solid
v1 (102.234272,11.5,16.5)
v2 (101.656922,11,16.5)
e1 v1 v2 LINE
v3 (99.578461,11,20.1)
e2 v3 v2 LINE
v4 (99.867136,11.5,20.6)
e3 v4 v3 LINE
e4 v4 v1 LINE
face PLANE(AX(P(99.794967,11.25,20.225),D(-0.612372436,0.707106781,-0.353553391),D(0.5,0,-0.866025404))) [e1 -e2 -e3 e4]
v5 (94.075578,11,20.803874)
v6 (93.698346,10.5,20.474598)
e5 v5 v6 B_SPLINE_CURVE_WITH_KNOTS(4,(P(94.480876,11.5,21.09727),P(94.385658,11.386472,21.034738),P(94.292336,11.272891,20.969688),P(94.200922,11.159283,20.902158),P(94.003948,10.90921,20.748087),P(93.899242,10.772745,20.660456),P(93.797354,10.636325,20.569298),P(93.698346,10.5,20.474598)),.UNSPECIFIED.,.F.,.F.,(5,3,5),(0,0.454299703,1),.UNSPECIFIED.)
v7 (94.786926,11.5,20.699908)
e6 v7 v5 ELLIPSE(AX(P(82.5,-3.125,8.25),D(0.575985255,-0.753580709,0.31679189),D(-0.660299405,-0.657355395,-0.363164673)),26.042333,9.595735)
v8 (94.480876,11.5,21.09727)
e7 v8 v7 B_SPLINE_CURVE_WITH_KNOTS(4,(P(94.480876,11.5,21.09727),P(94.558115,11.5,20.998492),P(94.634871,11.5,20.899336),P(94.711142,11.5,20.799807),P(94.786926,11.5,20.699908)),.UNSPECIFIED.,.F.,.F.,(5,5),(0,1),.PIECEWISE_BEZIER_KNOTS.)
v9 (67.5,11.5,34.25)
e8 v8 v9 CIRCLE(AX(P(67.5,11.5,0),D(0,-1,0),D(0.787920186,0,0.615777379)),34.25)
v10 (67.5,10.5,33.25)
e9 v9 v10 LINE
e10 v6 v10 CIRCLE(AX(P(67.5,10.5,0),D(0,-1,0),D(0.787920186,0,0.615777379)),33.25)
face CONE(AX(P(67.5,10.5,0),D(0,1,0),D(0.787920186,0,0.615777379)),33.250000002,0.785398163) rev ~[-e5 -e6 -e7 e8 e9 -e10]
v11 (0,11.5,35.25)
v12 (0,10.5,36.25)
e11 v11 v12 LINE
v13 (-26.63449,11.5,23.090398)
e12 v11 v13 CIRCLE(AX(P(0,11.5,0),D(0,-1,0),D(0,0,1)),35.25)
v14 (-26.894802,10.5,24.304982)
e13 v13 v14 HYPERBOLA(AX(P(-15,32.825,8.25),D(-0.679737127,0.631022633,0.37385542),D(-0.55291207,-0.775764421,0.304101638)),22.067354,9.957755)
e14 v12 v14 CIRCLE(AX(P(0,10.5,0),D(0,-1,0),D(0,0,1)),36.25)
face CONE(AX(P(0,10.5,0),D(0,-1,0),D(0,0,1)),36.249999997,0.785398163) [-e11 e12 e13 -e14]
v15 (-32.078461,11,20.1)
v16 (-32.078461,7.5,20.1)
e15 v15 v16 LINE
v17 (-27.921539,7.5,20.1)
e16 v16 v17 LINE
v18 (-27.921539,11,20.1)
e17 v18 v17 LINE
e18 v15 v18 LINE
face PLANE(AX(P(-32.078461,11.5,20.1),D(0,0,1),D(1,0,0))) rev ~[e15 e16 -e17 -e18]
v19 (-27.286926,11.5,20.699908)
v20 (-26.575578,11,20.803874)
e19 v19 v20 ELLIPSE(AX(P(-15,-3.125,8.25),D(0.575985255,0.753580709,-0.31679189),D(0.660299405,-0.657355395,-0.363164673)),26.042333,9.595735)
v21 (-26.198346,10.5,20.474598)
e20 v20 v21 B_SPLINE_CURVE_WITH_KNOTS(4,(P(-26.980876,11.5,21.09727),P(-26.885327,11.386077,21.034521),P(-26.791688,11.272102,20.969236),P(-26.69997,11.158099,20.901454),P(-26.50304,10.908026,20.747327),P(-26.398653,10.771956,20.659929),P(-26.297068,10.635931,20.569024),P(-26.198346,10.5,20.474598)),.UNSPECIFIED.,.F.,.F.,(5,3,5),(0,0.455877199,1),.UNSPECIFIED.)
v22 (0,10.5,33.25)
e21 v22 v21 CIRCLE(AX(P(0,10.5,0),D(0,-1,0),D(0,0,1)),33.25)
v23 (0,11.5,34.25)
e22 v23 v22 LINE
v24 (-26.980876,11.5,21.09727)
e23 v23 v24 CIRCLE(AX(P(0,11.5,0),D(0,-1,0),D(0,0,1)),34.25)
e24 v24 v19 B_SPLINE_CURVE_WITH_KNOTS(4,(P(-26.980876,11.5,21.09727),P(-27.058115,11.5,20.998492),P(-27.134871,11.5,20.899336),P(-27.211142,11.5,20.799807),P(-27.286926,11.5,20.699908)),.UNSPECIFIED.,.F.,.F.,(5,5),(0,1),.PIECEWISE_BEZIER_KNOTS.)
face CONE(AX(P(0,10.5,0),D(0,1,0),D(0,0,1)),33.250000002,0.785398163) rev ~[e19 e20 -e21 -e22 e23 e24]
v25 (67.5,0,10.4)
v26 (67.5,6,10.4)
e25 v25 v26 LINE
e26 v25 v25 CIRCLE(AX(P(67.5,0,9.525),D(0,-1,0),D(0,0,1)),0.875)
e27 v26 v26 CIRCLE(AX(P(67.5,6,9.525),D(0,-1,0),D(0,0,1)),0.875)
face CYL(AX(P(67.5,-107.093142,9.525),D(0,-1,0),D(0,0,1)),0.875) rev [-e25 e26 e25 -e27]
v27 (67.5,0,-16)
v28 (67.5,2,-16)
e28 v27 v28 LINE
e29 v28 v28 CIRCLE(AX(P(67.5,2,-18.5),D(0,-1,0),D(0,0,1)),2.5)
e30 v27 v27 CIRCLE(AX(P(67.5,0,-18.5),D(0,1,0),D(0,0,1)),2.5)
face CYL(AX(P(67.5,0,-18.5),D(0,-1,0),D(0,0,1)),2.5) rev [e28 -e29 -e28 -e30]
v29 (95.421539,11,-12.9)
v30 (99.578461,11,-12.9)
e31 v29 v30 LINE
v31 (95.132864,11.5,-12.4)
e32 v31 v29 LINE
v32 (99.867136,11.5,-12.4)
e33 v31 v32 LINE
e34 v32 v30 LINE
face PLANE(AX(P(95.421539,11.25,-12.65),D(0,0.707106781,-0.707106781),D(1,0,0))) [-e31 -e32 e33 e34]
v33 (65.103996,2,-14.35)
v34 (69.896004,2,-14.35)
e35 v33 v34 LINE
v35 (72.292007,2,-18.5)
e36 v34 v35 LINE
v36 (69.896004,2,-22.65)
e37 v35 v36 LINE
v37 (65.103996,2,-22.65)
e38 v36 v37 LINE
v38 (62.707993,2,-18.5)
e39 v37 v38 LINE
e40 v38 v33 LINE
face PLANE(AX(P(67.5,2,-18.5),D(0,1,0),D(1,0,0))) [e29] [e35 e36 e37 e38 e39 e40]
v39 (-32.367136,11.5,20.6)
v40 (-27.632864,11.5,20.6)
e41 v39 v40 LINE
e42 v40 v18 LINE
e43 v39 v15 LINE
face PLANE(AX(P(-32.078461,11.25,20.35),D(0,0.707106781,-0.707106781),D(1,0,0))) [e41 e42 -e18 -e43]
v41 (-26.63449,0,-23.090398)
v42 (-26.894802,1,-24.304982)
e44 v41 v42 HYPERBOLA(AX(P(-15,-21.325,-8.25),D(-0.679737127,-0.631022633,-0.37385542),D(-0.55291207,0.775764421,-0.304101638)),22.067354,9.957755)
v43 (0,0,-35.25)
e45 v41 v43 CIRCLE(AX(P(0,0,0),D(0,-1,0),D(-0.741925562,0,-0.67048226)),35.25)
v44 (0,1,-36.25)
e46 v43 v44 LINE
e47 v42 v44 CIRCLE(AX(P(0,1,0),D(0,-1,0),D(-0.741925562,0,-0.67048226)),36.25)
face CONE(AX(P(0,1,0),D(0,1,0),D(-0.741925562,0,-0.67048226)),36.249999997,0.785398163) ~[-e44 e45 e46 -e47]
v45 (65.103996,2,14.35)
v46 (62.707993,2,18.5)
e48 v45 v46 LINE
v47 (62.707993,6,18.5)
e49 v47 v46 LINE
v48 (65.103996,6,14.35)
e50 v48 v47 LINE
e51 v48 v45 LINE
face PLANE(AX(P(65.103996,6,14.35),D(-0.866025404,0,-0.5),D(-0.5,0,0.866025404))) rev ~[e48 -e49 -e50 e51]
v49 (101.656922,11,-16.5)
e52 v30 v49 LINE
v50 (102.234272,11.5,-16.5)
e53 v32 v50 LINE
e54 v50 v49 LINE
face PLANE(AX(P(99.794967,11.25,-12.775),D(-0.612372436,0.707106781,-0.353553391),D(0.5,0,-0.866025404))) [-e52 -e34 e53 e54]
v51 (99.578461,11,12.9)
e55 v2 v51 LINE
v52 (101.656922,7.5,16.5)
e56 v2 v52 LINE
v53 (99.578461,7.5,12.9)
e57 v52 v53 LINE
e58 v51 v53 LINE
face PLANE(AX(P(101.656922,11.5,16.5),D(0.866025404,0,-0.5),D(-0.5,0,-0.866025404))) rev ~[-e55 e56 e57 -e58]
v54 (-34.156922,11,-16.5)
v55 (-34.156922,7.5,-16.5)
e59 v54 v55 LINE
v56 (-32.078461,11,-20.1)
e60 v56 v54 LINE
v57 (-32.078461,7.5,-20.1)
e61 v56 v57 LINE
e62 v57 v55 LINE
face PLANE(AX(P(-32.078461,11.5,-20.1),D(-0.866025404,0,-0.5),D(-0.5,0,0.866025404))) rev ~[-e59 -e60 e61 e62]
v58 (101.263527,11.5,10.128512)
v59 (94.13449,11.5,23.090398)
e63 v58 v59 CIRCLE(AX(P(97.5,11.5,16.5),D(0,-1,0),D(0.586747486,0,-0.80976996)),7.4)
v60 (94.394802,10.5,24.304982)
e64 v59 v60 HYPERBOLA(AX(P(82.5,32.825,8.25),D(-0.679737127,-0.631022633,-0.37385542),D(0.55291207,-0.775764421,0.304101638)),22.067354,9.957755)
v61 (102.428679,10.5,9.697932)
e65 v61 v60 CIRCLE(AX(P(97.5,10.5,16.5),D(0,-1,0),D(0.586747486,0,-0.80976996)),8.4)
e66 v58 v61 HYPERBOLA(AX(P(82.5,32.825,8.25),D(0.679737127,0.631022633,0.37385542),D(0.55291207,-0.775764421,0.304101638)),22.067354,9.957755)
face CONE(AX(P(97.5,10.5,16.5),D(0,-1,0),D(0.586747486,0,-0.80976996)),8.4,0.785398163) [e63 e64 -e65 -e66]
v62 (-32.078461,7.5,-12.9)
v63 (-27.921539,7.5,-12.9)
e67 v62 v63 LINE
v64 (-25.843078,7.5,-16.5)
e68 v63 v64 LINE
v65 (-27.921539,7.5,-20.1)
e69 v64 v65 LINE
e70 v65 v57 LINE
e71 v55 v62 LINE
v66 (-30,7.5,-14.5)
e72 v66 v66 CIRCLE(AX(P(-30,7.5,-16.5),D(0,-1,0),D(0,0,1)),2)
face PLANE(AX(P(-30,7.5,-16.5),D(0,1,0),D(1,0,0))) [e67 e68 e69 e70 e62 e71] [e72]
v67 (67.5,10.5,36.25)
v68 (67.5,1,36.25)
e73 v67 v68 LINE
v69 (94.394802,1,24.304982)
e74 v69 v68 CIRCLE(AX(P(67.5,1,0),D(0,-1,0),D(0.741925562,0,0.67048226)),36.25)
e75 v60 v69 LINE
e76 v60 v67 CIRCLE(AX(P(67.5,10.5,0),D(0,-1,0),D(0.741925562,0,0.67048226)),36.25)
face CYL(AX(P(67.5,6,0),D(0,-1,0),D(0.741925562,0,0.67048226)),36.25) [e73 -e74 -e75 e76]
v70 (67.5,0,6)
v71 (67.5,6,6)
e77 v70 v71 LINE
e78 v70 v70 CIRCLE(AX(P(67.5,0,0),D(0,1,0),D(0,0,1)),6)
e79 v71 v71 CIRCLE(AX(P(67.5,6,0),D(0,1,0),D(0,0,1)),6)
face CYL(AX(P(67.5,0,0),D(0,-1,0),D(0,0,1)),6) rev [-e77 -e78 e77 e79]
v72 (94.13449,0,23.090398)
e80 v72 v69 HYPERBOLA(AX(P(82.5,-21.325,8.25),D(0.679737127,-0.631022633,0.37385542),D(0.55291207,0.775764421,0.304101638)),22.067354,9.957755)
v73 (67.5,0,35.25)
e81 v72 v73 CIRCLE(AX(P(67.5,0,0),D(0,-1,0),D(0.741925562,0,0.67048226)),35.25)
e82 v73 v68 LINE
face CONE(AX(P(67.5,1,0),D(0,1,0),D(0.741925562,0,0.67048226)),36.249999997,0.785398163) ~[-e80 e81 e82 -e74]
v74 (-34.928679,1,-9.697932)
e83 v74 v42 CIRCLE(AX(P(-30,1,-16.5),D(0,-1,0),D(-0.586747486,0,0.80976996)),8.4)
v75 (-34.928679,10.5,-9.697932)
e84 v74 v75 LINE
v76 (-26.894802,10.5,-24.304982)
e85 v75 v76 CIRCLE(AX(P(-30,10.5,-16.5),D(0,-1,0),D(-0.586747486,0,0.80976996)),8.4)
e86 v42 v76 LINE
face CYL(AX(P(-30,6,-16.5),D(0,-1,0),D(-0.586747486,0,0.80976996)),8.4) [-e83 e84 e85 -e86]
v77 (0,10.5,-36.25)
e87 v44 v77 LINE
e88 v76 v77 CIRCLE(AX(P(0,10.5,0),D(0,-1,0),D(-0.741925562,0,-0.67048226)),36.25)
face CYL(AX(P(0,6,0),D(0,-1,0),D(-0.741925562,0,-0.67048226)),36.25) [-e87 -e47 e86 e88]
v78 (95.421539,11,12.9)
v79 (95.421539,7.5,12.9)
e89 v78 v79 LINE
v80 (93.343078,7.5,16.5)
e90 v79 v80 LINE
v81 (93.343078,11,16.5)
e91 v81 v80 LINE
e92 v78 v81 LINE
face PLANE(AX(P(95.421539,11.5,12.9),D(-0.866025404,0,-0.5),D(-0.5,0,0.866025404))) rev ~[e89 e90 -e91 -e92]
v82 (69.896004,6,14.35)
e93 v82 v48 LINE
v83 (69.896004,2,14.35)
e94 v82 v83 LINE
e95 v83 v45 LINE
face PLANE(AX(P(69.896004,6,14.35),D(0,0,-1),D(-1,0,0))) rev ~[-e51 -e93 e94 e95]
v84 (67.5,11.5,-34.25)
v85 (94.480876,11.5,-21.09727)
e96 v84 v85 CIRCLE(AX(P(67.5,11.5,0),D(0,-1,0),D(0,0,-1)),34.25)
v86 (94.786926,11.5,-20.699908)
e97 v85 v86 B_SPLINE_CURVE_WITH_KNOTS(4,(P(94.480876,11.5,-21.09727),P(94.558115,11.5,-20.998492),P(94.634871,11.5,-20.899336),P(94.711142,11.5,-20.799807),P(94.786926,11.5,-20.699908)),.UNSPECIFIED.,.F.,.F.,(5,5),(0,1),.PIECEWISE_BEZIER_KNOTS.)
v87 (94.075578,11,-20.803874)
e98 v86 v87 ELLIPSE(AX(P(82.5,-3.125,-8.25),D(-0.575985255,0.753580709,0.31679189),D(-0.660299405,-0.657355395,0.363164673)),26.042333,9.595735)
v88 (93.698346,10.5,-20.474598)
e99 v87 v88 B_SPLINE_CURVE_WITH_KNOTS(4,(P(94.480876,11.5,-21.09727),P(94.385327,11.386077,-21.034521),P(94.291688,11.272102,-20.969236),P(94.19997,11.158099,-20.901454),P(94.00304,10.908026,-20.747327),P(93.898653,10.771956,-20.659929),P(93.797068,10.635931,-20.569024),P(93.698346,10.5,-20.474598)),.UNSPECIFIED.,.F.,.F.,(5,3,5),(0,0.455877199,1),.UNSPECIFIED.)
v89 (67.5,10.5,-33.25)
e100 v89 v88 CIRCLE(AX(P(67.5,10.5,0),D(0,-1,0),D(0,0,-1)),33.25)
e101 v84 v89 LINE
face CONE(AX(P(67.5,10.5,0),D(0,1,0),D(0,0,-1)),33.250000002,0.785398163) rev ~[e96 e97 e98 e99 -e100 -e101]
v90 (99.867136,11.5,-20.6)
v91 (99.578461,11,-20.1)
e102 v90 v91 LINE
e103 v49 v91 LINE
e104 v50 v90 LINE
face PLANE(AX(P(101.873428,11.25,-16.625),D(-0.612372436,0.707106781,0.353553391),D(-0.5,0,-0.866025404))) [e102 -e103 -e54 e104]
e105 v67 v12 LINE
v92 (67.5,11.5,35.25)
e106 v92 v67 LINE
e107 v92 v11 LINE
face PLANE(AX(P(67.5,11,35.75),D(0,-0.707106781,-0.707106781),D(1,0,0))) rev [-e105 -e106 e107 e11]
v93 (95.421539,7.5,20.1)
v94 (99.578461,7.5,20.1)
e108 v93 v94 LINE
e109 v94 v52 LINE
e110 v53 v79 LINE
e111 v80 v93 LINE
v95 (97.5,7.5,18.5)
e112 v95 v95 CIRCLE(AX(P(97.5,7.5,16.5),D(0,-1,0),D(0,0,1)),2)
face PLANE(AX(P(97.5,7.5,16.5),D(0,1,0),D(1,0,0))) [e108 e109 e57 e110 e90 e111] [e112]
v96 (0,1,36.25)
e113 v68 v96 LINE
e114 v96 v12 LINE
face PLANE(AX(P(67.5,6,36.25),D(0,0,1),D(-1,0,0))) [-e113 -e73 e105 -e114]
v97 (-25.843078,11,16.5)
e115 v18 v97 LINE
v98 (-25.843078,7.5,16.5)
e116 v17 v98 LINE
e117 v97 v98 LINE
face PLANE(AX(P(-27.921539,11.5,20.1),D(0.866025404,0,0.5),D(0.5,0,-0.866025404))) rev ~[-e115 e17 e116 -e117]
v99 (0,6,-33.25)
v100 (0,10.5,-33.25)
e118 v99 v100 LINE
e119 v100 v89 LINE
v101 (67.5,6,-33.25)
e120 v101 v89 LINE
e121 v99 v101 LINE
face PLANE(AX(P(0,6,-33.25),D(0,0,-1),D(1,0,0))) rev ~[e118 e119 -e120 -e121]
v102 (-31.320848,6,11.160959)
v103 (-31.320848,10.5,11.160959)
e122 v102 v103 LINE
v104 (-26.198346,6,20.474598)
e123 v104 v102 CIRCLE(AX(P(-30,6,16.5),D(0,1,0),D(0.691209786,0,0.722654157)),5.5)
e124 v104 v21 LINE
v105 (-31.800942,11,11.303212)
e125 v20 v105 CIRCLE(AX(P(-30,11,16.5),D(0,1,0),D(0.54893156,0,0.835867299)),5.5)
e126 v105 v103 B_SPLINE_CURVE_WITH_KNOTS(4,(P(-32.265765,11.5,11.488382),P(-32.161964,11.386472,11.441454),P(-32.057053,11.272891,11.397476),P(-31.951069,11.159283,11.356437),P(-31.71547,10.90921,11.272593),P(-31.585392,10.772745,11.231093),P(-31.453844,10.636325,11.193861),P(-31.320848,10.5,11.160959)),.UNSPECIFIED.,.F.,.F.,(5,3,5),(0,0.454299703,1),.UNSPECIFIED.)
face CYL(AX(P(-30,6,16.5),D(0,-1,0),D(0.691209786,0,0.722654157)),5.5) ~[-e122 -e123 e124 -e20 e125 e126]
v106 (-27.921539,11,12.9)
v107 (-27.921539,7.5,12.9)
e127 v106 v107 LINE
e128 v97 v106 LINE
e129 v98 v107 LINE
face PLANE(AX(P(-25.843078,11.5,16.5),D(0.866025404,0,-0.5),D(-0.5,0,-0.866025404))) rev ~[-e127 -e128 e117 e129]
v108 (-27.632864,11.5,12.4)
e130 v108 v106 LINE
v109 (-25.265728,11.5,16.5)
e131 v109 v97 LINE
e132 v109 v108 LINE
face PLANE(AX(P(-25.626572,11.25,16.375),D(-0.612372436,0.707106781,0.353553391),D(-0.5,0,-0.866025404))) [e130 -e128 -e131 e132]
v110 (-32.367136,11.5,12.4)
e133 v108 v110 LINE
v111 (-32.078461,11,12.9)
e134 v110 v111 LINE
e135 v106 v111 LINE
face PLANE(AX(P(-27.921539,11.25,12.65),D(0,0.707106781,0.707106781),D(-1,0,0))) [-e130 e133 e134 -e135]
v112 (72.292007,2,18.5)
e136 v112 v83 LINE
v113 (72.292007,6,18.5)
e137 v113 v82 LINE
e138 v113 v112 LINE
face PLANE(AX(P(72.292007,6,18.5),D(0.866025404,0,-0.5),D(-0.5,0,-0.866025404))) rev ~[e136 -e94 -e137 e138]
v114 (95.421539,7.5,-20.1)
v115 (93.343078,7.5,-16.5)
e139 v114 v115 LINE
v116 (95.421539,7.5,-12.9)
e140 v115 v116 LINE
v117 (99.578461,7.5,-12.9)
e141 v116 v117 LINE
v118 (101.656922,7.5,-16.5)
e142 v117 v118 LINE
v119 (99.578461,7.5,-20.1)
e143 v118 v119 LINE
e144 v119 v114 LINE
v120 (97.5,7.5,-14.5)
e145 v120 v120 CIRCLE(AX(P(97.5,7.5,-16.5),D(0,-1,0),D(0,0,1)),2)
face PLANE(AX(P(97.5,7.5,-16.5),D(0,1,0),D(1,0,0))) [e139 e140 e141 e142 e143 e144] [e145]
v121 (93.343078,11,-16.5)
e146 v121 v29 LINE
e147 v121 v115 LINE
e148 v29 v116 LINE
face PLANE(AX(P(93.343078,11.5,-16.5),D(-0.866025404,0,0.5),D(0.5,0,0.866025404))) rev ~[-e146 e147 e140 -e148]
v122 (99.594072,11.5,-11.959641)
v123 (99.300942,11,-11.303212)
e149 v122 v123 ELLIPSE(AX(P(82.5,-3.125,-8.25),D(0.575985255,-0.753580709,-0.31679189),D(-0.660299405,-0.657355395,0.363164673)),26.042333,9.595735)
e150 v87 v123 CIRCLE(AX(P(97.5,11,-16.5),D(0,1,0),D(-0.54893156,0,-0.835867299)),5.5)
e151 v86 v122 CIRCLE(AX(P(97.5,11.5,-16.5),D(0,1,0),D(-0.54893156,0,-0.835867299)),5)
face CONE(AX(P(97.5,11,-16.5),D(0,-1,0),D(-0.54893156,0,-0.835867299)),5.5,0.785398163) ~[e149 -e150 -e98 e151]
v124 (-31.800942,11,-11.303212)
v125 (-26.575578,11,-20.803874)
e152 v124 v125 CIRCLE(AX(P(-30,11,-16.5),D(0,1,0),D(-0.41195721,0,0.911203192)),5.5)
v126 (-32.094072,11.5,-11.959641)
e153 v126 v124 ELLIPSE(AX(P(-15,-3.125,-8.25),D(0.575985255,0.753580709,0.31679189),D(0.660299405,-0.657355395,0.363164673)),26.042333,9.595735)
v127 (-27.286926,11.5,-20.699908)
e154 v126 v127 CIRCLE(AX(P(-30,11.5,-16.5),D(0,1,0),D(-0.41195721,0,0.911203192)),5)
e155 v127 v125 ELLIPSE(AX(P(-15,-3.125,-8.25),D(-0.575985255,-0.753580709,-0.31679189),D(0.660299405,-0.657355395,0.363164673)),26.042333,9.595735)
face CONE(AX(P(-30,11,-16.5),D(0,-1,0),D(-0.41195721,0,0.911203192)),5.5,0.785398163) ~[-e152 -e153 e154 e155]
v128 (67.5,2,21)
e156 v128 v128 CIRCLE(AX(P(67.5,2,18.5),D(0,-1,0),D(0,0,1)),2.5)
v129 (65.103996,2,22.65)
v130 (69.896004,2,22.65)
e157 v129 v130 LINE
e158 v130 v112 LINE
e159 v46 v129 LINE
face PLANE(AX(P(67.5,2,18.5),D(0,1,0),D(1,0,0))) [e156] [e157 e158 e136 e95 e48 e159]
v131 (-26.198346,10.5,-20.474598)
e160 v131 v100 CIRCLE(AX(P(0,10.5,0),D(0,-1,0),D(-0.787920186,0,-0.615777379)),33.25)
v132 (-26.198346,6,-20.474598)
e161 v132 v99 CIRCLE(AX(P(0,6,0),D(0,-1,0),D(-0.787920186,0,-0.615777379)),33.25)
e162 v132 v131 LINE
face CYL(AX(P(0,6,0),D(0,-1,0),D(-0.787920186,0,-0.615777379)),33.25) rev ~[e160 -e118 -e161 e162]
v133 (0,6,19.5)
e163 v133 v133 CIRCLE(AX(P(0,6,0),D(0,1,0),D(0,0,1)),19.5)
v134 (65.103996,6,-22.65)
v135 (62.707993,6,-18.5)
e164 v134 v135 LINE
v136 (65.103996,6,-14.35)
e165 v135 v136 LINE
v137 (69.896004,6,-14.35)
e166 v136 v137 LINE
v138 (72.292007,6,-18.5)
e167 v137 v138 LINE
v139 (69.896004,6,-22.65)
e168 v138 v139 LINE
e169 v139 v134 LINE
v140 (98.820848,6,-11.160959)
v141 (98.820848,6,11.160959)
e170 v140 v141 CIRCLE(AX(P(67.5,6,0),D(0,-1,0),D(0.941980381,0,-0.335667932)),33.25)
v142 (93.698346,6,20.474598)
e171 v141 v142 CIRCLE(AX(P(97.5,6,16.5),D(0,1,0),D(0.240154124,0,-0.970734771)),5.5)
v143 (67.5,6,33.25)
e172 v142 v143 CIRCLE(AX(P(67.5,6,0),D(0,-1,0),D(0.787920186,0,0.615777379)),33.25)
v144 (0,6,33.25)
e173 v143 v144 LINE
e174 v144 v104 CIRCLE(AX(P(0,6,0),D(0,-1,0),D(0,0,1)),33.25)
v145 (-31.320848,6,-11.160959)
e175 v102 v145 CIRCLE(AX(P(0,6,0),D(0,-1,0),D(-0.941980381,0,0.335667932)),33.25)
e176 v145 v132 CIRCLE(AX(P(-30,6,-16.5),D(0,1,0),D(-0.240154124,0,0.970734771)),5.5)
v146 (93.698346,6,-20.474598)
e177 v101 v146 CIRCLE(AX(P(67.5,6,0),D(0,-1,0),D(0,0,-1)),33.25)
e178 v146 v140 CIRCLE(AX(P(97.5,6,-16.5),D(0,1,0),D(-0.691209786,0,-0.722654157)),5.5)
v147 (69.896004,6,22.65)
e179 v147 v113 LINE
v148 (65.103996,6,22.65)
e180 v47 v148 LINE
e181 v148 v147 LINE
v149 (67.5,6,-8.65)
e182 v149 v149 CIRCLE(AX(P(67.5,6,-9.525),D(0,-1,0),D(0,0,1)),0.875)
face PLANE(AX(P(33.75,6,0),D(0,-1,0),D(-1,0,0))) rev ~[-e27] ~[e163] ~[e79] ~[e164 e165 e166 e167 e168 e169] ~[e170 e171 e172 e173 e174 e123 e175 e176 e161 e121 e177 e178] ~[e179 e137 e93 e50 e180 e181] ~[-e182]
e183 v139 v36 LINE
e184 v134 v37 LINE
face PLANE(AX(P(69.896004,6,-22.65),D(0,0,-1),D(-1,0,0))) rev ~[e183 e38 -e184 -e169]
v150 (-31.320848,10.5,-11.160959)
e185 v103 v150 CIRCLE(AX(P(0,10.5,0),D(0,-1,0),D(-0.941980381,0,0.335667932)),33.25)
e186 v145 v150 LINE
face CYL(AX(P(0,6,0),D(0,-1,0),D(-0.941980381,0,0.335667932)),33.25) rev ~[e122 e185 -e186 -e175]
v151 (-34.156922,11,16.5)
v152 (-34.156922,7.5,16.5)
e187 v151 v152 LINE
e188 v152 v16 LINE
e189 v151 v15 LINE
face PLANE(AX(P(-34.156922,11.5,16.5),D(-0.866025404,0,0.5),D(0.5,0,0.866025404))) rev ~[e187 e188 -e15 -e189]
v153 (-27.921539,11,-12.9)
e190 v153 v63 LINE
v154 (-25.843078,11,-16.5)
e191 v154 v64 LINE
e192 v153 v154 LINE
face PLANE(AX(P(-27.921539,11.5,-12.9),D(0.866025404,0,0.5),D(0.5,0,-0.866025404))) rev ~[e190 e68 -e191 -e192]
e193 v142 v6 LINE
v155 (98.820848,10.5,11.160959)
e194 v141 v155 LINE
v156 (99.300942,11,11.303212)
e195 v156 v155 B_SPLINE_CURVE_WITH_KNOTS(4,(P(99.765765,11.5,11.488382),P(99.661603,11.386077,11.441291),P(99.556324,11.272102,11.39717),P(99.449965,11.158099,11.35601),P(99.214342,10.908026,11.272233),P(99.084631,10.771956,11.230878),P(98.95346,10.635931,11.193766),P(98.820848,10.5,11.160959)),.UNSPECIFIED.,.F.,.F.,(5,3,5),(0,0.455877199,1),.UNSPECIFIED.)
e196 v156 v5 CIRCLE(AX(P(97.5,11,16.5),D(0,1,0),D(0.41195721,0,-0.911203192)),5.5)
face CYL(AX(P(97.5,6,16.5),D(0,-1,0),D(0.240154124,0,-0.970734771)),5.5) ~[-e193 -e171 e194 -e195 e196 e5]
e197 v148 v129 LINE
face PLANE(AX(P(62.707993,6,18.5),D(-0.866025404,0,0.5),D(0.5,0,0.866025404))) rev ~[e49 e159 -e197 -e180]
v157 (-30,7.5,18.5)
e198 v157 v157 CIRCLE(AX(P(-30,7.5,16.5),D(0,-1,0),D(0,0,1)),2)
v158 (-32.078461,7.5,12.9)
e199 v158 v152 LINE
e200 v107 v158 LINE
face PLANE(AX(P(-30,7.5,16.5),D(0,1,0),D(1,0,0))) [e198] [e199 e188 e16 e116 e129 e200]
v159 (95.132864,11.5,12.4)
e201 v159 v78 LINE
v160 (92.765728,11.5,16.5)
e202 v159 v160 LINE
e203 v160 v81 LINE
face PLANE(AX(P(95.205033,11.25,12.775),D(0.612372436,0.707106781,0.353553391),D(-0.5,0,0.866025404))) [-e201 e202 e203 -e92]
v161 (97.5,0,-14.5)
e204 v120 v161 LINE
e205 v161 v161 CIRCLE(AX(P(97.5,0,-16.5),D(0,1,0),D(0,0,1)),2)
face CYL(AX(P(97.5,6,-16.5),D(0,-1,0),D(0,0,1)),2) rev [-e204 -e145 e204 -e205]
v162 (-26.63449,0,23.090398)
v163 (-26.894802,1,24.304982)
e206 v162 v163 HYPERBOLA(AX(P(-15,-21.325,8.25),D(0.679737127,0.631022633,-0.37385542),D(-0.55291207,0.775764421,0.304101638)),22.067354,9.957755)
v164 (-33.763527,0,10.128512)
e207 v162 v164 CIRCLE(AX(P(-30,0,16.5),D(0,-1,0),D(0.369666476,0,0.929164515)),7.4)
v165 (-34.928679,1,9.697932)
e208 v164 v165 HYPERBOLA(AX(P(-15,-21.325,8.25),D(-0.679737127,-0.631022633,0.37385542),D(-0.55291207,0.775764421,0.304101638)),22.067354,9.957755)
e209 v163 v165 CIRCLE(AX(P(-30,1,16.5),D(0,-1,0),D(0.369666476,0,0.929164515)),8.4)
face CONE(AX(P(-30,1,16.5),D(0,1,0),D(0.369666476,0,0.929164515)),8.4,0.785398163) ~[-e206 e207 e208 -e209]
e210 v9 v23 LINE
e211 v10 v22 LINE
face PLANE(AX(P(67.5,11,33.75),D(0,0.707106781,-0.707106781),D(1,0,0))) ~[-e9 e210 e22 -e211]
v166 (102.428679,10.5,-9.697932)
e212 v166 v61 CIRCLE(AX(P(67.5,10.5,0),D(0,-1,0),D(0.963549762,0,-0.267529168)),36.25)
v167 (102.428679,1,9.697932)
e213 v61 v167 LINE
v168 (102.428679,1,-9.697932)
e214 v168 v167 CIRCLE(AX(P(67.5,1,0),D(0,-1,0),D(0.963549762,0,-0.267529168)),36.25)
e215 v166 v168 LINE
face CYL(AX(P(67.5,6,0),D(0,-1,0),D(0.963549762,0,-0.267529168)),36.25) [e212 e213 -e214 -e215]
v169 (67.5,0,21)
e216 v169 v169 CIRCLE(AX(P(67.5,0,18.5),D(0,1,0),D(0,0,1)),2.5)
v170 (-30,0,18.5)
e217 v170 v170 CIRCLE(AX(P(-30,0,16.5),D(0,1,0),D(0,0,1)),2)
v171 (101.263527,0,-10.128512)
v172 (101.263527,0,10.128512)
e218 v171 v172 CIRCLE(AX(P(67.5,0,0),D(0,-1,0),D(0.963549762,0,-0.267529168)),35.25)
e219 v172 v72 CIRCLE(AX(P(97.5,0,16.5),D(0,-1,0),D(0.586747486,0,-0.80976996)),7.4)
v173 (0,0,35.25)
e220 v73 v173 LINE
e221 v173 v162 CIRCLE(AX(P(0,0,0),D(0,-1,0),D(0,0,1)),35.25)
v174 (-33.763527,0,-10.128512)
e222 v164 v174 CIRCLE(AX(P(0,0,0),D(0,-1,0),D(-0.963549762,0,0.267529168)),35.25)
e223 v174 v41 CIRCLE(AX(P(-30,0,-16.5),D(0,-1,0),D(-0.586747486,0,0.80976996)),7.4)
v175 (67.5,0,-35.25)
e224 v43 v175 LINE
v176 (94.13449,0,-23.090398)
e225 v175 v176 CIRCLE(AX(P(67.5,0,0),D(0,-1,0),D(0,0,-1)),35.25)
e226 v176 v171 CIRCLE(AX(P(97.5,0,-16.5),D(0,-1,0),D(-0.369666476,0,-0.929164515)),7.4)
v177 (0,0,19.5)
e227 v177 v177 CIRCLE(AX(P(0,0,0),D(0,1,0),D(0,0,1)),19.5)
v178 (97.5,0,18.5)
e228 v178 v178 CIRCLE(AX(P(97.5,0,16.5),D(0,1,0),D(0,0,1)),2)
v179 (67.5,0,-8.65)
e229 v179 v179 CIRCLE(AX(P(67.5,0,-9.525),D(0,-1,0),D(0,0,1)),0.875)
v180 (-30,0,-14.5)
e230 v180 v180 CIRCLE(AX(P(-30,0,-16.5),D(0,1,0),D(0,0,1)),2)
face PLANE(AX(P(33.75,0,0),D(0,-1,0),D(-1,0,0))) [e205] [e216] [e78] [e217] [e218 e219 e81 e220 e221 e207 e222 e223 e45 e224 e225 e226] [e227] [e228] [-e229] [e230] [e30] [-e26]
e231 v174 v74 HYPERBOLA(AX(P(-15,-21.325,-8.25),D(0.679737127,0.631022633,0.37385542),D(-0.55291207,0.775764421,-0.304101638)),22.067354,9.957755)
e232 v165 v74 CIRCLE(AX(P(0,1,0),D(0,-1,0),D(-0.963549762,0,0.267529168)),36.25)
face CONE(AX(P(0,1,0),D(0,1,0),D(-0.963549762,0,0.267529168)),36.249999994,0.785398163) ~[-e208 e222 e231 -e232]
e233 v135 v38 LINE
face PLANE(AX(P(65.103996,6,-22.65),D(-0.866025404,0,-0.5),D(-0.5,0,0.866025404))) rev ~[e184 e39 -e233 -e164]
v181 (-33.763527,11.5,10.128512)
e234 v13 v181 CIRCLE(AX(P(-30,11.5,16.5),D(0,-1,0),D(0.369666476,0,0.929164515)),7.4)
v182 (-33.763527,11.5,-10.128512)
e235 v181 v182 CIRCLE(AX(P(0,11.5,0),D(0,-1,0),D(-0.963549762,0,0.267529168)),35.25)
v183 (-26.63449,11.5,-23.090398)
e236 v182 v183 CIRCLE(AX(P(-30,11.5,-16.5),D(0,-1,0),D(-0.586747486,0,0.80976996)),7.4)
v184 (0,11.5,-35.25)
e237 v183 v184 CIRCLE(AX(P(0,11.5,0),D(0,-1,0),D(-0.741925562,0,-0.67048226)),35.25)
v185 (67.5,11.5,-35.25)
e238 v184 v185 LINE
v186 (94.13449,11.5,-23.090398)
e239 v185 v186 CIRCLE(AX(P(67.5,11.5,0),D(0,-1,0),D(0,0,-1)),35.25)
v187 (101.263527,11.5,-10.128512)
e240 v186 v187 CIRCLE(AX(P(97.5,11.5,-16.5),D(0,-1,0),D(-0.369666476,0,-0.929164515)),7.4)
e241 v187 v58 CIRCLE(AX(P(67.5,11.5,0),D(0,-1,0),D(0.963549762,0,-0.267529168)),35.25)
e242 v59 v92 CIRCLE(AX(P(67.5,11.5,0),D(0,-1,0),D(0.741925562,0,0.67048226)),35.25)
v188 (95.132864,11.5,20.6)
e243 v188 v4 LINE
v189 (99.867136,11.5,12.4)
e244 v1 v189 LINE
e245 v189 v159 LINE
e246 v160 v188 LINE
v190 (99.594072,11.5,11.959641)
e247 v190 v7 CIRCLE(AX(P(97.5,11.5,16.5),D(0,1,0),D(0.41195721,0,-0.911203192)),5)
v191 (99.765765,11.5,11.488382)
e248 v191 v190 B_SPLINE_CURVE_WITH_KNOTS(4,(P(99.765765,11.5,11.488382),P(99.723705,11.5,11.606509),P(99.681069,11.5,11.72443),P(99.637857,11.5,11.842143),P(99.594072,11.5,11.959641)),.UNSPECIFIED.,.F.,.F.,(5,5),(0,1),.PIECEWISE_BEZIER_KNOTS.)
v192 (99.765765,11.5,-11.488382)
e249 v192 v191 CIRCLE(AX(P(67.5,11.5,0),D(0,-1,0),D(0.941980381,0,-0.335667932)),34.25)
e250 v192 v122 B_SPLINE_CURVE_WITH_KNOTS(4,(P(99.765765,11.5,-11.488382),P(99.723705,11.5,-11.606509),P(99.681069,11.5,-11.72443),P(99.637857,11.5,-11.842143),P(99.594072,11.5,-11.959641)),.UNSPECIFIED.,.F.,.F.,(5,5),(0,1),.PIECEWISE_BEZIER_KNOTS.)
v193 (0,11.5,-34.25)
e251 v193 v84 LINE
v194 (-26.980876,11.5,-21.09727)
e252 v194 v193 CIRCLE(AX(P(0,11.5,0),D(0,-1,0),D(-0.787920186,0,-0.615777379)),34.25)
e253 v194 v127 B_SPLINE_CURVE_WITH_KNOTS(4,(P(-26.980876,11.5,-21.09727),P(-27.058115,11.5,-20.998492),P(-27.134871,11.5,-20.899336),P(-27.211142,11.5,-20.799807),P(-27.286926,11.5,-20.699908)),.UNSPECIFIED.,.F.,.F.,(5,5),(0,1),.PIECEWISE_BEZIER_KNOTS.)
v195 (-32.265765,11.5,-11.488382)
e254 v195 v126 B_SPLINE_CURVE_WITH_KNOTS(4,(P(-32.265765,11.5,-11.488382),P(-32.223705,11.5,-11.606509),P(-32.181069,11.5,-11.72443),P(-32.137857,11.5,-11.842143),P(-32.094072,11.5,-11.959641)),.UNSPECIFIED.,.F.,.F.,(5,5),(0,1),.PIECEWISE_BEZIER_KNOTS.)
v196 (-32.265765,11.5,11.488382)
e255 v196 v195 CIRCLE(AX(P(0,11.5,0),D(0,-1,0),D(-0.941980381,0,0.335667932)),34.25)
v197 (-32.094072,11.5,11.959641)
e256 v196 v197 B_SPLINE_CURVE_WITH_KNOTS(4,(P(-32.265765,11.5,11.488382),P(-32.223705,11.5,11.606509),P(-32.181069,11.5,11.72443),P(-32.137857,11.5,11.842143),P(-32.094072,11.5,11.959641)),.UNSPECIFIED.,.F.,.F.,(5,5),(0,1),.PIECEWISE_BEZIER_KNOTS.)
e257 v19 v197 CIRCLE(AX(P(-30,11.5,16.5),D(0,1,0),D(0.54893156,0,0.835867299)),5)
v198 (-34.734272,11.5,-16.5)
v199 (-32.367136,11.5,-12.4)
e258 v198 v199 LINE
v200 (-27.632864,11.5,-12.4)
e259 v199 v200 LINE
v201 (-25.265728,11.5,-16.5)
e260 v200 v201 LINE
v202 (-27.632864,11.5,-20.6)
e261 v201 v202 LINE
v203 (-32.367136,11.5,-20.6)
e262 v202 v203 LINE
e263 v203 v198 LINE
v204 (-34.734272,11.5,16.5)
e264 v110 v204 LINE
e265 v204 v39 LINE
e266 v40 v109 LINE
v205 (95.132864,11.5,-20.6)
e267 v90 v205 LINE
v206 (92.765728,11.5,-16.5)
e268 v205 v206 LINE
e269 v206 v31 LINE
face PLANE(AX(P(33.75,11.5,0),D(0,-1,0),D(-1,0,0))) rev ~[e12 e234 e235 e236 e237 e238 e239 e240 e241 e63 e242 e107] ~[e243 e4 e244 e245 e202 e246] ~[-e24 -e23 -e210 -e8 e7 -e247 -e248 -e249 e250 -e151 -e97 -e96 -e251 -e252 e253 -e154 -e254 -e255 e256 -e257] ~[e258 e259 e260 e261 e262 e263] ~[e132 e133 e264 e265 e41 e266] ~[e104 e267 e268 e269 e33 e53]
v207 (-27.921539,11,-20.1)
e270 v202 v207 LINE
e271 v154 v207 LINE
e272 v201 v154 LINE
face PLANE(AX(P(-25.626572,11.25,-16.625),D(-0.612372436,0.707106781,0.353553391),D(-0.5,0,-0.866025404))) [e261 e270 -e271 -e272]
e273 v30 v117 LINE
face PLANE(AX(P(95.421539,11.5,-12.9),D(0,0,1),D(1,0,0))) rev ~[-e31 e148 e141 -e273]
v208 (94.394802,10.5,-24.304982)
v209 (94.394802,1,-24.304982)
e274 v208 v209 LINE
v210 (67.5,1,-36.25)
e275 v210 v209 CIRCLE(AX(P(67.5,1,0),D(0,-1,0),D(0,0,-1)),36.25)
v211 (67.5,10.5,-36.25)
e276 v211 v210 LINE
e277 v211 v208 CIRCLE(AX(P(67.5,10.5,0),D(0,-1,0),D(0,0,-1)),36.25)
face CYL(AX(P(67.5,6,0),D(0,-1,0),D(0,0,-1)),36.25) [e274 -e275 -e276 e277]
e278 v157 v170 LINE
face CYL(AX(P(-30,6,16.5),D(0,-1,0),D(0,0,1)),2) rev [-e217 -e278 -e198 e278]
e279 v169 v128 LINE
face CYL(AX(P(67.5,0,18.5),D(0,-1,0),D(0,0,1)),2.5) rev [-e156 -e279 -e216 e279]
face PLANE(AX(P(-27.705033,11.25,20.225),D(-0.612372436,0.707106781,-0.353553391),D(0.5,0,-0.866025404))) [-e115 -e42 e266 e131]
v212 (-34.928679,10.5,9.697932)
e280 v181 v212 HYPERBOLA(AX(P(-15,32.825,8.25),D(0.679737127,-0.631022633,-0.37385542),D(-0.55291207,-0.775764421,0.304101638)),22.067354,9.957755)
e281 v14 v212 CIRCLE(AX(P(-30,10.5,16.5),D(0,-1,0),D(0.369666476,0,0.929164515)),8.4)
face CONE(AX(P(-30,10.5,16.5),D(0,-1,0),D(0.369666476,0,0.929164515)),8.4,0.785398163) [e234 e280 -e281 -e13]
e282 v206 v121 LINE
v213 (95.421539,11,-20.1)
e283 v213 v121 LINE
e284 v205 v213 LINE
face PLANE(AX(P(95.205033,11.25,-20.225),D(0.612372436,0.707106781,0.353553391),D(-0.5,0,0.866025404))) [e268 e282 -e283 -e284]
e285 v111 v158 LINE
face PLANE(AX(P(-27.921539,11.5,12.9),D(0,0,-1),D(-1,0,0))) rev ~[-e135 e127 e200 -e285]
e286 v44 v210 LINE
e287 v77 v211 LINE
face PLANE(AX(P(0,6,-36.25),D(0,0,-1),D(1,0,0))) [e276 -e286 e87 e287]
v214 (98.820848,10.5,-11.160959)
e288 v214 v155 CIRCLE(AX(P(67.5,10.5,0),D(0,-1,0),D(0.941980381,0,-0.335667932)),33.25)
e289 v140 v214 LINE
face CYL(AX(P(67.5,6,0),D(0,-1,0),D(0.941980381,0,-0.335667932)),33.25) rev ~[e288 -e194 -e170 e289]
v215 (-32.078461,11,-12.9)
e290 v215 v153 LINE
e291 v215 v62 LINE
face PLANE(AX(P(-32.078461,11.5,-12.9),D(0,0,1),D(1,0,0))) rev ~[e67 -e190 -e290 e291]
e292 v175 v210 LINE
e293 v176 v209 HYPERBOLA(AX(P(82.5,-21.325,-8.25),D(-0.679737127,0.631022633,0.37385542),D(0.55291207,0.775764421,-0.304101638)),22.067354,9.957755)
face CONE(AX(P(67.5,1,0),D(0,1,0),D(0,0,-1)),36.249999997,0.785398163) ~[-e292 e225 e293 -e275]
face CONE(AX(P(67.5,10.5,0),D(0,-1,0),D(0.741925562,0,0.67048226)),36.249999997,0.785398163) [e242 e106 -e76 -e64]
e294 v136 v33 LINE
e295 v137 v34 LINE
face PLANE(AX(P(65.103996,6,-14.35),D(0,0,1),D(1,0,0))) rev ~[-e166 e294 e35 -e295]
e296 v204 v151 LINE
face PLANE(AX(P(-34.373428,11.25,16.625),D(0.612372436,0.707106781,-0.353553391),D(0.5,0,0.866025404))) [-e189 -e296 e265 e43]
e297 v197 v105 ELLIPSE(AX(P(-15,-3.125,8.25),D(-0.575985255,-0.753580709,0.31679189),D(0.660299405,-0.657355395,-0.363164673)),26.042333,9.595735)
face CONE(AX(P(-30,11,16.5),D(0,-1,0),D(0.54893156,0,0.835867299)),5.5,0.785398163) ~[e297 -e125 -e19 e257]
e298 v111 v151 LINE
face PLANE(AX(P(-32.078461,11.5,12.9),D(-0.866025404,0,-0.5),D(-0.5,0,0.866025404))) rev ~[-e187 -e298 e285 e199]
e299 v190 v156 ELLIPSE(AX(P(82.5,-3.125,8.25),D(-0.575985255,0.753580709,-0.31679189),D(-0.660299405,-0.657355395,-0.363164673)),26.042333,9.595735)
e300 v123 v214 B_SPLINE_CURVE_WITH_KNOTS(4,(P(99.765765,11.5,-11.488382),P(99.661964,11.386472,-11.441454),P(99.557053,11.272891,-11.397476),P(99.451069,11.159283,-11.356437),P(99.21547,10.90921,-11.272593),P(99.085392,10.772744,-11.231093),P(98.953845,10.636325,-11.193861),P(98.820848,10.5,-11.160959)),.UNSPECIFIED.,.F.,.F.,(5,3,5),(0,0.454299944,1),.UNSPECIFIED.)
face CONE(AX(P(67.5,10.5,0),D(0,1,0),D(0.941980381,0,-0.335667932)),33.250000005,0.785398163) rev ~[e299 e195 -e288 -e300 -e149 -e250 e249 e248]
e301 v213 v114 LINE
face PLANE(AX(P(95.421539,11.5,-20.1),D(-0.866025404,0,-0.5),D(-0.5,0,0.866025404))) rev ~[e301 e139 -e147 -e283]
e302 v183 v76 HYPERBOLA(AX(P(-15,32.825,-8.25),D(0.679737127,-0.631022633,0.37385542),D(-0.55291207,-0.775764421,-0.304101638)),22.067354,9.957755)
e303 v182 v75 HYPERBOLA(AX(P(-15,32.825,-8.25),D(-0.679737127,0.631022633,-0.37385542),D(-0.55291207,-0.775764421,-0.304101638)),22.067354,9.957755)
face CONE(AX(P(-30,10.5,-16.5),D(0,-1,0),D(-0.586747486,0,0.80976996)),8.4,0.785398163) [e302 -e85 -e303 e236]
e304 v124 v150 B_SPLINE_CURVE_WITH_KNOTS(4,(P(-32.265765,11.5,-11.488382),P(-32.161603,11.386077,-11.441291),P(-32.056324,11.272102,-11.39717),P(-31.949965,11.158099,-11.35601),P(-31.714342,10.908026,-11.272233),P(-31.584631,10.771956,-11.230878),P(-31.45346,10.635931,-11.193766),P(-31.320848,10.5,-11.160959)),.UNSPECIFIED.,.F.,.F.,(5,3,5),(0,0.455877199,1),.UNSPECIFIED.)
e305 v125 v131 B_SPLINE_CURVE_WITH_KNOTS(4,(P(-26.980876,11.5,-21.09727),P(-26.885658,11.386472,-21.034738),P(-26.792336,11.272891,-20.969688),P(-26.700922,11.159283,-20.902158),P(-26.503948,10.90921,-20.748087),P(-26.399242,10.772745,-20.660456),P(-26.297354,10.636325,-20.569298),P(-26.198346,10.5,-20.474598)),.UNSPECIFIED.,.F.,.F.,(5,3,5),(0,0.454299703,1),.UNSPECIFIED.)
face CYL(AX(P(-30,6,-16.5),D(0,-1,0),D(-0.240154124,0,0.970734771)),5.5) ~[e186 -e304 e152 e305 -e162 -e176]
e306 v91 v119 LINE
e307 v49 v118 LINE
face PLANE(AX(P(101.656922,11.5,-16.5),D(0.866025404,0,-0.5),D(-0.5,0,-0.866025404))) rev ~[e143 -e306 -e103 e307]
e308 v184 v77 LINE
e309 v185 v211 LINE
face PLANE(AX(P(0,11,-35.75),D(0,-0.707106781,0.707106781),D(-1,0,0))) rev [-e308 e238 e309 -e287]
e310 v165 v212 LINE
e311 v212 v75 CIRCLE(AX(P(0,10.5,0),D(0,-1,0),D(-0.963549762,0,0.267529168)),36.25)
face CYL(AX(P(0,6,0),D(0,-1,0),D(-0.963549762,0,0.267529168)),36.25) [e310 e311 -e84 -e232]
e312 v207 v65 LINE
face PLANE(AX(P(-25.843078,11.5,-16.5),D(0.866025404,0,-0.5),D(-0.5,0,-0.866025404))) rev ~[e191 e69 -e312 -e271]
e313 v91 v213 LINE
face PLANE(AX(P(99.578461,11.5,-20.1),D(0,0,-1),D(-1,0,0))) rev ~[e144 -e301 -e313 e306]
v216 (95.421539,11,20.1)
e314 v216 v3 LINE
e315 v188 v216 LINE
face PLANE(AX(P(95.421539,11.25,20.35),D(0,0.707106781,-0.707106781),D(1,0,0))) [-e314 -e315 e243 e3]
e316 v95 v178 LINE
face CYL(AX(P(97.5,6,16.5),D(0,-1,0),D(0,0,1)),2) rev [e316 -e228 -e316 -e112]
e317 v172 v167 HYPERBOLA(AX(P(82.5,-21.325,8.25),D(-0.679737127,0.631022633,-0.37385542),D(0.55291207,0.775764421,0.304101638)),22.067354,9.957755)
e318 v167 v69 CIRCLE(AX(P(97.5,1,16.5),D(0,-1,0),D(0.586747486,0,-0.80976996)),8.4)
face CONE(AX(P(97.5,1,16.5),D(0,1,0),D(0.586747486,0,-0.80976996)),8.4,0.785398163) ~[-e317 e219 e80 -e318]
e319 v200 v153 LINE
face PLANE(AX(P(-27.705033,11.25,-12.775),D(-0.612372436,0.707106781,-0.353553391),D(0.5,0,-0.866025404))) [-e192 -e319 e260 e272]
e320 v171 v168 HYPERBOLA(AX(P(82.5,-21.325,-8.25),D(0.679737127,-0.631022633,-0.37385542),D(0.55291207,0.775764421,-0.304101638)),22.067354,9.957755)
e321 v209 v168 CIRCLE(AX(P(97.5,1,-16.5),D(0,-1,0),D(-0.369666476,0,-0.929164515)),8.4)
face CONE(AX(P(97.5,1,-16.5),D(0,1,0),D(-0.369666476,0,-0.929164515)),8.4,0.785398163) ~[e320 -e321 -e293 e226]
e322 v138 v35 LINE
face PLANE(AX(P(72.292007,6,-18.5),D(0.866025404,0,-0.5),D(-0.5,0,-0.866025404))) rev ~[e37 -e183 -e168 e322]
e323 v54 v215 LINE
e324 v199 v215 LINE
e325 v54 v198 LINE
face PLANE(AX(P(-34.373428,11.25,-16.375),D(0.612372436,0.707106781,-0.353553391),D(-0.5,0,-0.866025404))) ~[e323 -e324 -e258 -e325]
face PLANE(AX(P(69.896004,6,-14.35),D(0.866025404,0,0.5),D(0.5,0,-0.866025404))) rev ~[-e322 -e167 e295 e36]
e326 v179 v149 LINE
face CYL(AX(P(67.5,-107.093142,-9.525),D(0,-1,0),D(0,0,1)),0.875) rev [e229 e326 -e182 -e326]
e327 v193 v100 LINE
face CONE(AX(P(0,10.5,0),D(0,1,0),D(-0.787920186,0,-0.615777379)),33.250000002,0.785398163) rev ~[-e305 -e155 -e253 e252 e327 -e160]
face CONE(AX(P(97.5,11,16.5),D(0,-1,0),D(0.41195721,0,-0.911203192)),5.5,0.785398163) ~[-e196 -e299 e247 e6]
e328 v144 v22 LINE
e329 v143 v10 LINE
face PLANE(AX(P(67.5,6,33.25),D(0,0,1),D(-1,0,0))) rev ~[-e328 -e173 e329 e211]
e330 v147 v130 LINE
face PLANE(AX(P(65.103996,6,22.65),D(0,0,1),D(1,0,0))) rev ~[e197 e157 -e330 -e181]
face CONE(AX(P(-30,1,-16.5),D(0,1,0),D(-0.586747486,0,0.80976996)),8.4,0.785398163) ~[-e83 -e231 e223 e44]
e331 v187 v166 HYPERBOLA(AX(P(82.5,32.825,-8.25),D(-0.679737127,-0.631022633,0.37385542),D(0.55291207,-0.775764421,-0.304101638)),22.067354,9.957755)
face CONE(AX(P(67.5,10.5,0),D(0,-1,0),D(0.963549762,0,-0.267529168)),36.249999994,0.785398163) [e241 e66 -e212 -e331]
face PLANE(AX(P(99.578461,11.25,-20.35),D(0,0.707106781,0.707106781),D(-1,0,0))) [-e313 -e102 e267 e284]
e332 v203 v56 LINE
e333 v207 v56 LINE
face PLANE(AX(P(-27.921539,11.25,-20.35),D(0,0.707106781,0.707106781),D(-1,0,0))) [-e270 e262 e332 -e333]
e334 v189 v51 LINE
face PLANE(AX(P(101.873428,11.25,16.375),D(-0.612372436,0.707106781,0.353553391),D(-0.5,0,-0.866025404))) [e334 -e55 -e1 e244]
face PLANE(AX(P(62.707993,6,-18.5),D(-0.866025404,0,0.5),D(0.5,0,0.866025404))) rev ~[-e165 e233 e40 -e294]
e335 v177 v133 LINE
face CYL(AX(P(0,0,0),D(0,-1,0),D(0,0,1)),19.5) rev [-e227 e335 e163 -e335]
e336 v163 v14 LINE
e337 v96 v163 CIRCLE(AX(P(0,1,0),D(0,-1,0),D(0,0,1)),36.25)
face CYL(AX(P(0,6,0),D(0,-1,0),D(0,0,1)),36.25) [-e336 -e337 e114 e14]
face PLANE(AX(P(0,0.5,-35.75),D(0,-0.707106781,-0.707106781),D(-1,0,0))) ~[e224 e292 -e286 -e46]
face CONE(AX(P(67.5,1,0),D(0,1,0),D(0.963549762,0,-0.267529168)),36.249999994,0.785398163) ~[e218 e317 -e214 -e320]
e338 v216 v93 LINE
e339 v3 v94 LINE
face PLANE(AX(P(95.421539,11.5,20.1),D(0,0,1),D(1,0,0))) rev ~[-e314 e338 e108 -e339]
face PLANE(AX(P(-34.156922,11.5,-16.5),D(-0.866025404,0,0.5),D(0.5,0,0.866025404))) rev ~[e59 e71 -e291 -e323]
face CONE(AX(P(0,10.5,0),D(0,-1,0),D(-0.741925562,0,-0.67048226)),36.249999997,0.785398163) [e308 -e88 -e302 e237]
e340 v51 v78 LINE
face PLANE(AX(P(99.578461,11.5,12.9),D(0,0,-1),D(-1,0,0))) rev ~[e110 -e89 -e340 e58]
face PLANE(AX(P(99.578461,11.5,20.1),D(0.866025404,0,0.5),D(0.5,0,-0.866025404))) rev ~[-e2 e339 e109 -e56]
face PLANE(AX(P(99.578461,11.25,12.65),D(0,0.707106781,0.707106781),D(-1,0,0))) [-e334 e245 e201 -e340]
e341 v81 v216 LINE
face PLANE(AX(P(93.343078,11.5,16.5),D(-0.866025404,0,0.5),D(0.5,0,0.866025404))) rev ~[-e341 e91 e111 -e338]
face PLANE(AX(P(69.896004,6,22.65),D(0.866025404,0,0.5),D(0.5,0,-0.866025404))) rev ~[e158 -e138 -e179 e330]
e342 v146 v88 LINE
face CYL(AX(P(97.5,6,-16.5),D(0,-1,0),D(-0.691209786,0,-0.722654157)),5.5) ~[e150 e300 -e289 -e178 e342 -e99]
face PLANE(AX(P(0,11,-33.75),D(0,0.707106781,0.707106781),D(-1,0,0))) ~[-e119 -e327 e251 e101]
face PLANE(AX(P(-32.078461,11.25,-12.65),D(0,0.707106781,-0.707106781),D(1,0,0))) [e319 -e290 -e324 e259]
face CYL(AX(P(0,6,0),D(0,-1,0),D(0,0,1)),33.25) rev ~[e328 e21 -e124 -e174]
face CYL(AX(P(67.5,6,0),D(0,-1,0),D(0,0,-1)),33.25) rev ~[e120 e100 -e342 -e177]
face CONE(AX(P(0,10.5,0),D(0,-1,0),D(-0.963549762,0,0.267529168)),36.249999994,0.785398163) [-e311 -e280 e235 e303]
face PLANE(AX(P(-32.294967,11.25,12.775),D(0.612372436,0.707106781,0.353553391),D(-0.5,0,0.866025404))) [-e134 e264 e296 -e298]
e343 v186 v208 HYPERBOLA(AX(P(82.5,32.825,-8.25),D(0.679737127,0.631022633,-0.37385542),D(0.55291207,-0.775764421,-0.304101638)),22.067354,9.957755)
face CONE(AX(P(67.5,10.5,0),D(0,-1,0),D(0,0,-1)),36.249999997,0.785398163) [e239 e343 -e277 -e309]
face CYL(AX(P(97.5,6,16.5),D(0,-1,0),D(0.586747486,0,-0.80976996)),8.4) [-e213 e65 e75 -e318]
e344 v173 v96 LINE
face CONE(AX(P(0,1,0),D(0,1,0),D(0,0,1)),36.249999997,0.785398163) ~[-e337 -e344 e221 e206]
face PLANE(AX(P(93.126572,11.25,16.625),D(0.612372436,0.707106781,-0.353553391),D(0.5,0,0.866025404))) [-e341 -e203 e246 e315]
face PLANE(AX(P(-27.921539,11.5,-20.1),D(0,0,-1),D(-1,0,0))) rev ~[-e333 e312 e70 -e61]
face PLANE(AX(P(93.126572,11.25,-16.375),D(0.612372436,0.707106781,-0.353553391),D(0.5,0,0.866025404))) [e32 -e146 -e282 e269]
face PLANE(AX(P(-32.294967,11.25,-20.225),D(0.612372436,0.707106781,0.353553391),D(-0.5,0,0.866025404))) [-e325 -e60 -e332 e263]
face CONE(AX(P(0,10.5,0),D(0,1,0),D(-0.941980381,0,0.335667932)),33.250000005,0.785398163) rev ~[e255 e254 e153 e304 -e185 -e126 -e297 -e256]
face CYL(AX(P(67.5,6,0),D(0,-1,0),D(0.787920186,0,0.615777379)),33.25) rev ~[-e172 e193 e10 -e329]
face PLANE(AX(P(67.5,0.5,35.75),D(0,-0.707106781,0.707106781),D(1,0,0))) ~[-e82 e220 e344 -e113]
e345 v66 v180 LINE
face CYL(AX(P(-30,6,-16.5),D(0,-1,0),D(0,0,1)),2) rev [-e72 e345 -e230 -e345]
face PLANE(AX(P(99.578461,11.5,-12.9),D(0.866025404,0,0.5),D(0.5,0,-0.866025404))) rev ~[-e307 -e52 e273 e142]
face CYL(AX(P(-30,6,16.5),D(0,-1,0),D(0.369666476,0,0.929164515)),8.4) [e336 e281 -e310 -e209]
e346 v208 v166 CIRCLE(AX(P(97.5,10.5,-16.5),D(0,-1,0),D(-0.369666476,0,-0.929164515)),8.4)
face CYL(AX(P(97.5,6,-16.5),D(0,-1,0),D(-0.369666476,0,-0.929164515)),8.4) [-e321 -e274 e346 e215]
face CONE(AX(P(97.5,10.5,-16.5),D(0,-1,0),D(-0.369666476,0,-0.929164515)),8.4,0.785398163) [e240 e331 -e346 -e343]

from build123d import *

# Parameters (mm, degrees)
SKETCH1_R               = 19.5
SKETCH1_R_2             = 6
SKETCH1_R_3             = 2.5
SKETCH1_R_4             = 2
BOSS_EXTRUDE1_DEPTH     = 6
SKETCH5_R               = 2
BOSS_EXTRUDE2_DEPTH     = 5.5
CUT_EXTRUDE2_DEPTH      = 4
CHAMFER1_SIZE           = 1
CHAMFER2_SIZE           = 0.5
CUT_EXTRUDE3_DEPTH      = 113.093142074
CUT_EXTRUDE3_DEPTH_BACK = 113.093142074
SKETCH8_R               = 0.875
CUT_EXTRUDE4_DEPTH      = 4


with BuildPart() as part:
    # Sketch1 → Boss-Extrude1 (new body)
    with BuildSketch(Plane(origin=(0, 0, 0), x_dir=(1, 0, 0), z_dir=(0, 1, 0))):
        with BuildLine():
            Line((0, 36.25), (67.5, 36.25))
            ThreePointArc((67.5, 36.25), (82.21405629, 33.129428723), (94.394801605, 24.30498193))
            ThreePointArc((94.394801605, 24.30498193), (104.860213633, 20.548117498), (102.428678881, 9.697932337))
            ThreePointArc((102.428678881, 9.697932337), (103.75, 0), (102.428678881, -9.697932337))
            ThreePointArc((102.428678881, -9.697932337), (104.860213633, -20.548117498), (94.394801605, -24.30498193))
            ThreePointArc((94.394801605, -24.30498193), (82.21405629, -33.129428723), (67.5, -36.25))
            Line((67.5, -36.25), (0, -36.25))
            ThreePointArc((0, -36.25), (-14.71405629, -33.129428723), (-26.894801605, -24.30498193))
            ThreePointArc((-26.894801605, -24.30498193), (-37.360213633, -20.548117498), (-34.928678881, -9.697932337))
            ThreePointArc((-34.928678881, -9.697932337), (-36.25, 0), (-34.928678881, 9.697932337))
            ThreePointArc((-34.928678881, 9.697932337), (-37.360213633, 20.548117498), (-26.894801605, 24.30498193))
            ThreePointArc((-26.894801605, 24.30498193), (-14.71405629, 33.129428723), (0, 36.25))
        make_face()
        with Locations(Location((0, 0, 0), (0, 0, 270))):
            Circle(SKETCH1_R, mode=Mode.SUBTRACT)
        with Locations(Location((67.5, 0, 0), (0, 0, 270))):
            Circle(SKETCH1_R_2, mode=Mode.SUBTRACT)
        with Locations(Location((67.5, 18.5, 0), (0, 0, 270))):
            Circle(SKETCH1_R_3, mode=Mode.SUBTRACT)
        with Locations(Location((67.5, -18.5, 0), (0, 0, 270))):
            Circle(SKETCH1_R_3, mode=Mode.SUBTRACT)
        with Locations(Location((-30, 16.5, 0), (0, 0, 270))):
            Circle(SKETCH1_R_4, mode=Mode.SUBTRACT)
        with Locations(Location((-30, -16.5, 0), (0, 0, 270))):
            Circle(SKETCH1_R_4, mode=Mode.SUBTRACT)
        with Locations(Location((97.5, -16.5, 0), (0, 0, 270))):
            Circle(SKETCH1_R_4, mode=Mode.SUBTRACT)
        with Locations(Location((97.5, 16.5, 0), (0, 0, 270))):
            Circle(SKETCH1_R_4, mode=Mode.SUBTRACT)
    extrude(amount=BOSS_EXTRUDE1_DEPTH)

    # Sketch5 → Boss-Extrude2 (add)
    with BuildSketch(Plane(origin=(0, 6, 0), x_dir=(1, 0, 0), z_dir=(0, 1, 0))):
        with BuildLine():
            Line((0, 36.25), (67.5, 36.25))
            ThreePointArc((67.5, 36.25), (82.21405629, 33.129428723), (94.394801605, 24.30498193))
            ThreePointArc((94.394801605, 24.30498193), (104.860213633, 20.548117498), (102.428678881, 9.697932337))
            ThreePointArc((102.428678881, 9.697932337), (103.75, 0), (102.428678881, -9.697932337))
            ThreePointArc((102.428678881, -9.697932337), (104.860213633, -20.548117498), (94.394801605, -24.30498193))
            ThreePointArc((94.394801605, -24.30498193), (82.21405629, -33.129428723), (67.5, -36.25))
            Line((67.5, -36.25), (0, -36.25))
            ThreePointArc((0, -36.25), (-14.71405629, -33.129428723), (-26.894801605, -24.30498193))
            ThreePointArc((-26.894801605, -24.30498193), (-37.360213633, -20.548117498), (-34.928678881, -9.697932337))
            ThreePointArc((-34.928678881, -9.697932337), (-36.25, 0), (-34.928678881, 9.697932337))
            ThreePointArc((-34.928678881, 9.697932337), (-37.360213633, 20.548117498), (-26.894801605, 24.30498193))
            ThreePointArc((-26.894801605, 24.30498193), (-14.71405629, 33.129428723), (0, 36.25))
        make_face()
        with Locations(Location((-30, 16.5, 0), (0, 0, 270))):
            Circle(SKETCH5_R, mode=Mode.SUBTRACT)
        with Locations(Location((97.5, 16.5, 0), (0, 0, 270))):
            Circle(SKETCH5_R, mode=Mode.SUBTRACT)
        with Locations(Location((97.5, -16.5, 0), (0, 0, 270))):
            Circle(SKETCH5_R, mode=Mode.SUBTRACT)
        with Locations(Location((-30, -16.5, 0), (0, 0, 270))):
            Circle(SKETCH5_R, mode=Mode.SUBTRACT)
        with BuildLine():
            Line((0, 33.25), (67.5, 33.25))
            ThreePointArc((67.5, 33.25), (82.073642664, 29.885973959), (93.698346174, 20.474597865))
            ThreePointArc((93.698346174, 20.474597865), (92.680812502, 13.849446876), (98.820847684, 11.160958757))
            ThreePointArc((98.820847684, 11.160958757), (100.75, 0), (98.820847684, -11.160958757))
            ThreePointArc((98.820847684, -11.160958757), (92.680812502, -13.849446876), (93.698346174, -20.474597865))
            ThreePointArc((93.698346174, -20.474597865), (82.073642664, -29.885973959), (67.5, -33.25))
            Line((67.5, -33.25), (0, -33.25))
            ThreePointArc((0, -33.25), (-14.573642664, -29.885973959), (-26.198346174, -20.474597865))
            ThreePointArc((-26.198346174, -20.474597865), (-25.180812502, -13.849446876), (-31.320847684, -11.160958757))
            ThreePointArc((-31.320847684, -11.160958757), (-33.25, 0), (-31.320847684, 11.160958757))
            ThreePointArc((-31.320847684, 11.160958757), (-25.180812502, 13.849446876), (-26.198346174, 20.474597865))
            ThreePointArc((-26.198346174, 20.474597865), (-14.573642664, 29.885973959), (0, 33.25))
        make_face(mode=Mode.SUBTRACT)
    extrude(amount=BOSS_EXTRUDE2_DEPTH)

    # Sketch6 → Cut-Extrude2 (cut)
    with BuildSketch(Plane(origin=(0, 11.5, 0), x_dir=(1, 0, 0), z_dir=(0, 1, 0))):
        Polygon((-25.843078062, 16.5), (-27.921539031, 20.1), (-32.078460969, 20.1), (-34.156921938, 16.5), (-32.078460969, 12.9), (-27.921539031, 12.9), align=None)
        Polygon((-34.156921938, -16.5), (-32.078460969, -20.1), (-27.921539031, -20.1), (-25.843078062, -16.5), (-27.921539031, -12.9), (-32.078460969, -12.9), align=None)
        Polygon((101.656921938, 16.5), (99.578460969, 20.1), (95.421539031, 20.1), (93.343078062, 16.5), (95.421539031, 12.9), (99.578460969, 12.9), align=None)
        Polygon((99.578460969, -20.1), (101.656921938, -16.5), (99.578460969, -12.9), (95.421539031, -12.9), (93.343078062, -16.5), (95.421539031, -20.1), align=None)
    extrude(amount=-CUT_EXTRUDE2_DEPTH, mode=Mode.SUBTRACT)

    # Chamfer1
    chamfer1_edges = [part.edges().sort_by_distance(p)[0] for p in [
        (-14.71405629, 0, -33.129428723),
        (33.75, 0, -36.25),
        (82.21405629, 0, -33.129428723),
        (104.860213633, 0, -20.548117498),
        (103.75, 0, 0),
        (104.860213633, 0, 20.548117498),
        (82.21405629, 0, 33.129428723),
        (33.75, 0, 36.25),
        (-14.71405629, 0, 33.129428723),
        (-37.360213633, 0, 20.548117498),
        (-36.25, 0, 0),
        (-37.360213633, 0, -20.548117498),
        (-14.71405629, 11.5, 33.129428723),
        (33.75, 11.5, 36.25),
        (82.21405629, 11.5, 33.129428723),
        (104.860213633, 11.5, 20.548117498),
        (103.75, 11.5, 0),
        (104.860213633, 11.5, -20.548117498),
        (82.21405629, 11.5, -33.129428723),
        (33.75, 11.5, -36.25),
        (-14.71405629, 11.5, -33.129428723),
        (-37.360213633, 11.5, -20.548117498),
        (-36.25, 11.5, 0),
        (-37.360213633, 11.5, 20.548117498),
        (100.75, 11.5, 0),
        (82.073642664, 11.5, -29.885973959),
        (33.75, 11.5, -33.25),
        (-14.573642664, 11.5, -29.885973959),
        (-33.25, 11.5, 0),
        (-14.573642664, 11.5, 29.885973959),
        (33.75, 11.5, 33.25),
        (82.073642664, 11.5, 29.885973959),
    ]]
    chamfer(chamfer1_edges, length=CHAMFER1_SIZE)

    # Chamfer2
    chamfer2_edges = [part.edges().sort_by_distance(p)[0] for p in [
        (-30, 11.5, -12.9),
        (-33.117691454, 11.5, -14.7),
        (-33.117691454, 11.5, -18.3),
        (-30, 11.5, -20.1),
        (-26.882308546, 11.5, -14.7),
        (-26.882308546, 11.5, -18.3),
        (-25.180812502, 11.5, -13.849446876),
        (-30, 11.5, 20.1),
        (-33.117691454, 11.5, 18.3),
        (-33.117691454, 11.5, 14.7),
        (-30, 11.5, 12.9),
        (-26.882308546, 11.5, 18.3),
        (-26.882308546, 11.5, 14.7),
        (-25.180812502, 11.5, 13.849446876),
        (100.617691454, 11.5, 18.3),
        (97.5, 11.5, 20.1),
        (94.382308546, 11.5, 18.3),
        (94.382308546, 11.5, 14.7),
        (97.5, 11.5, 12.9),
        (100.617691454, 11.5, 14.7),
        (92.680812502, 11.5, 13.849446876),
        (92.680812502, 11.5, -13.849446876),
        (97.5, 11.5, -12.9),
        (94.382308546, 11.5, -14.7),
        (94.382308546, 11.5, -18.3),
        (97.5, 11.5, -20.1),
        (100.617691454, 11.5, -14.7),
        (100.617691454, 11.5, -18.3),
    ]]
    chamfer(chamfer2_edges, length=CHAMFER2_SIZE)

    # Sketch8 → Cut-Extrude3 (cut, two sides: drawn at the far end of the back side and taken through both)
    with BuildSketch(Plane(origin=(0, 6, 0), x_dir=(1, 0, 0), z_dir=(0, 1, 0)).offset(-CUT_EXTRUDE3_DEPTH_BACK)):
        with Locations(Location((67.5, 9.525, 0), (0, 0, 270))):
            Circle(SKETCH8_R)
        with Locations(Location((67.5, -9.525, 0), (0, 0, 270))):
            Circle(SKETCH8_R)
    extrude(amount=CUT_EXTRUDE3_DEPTH + CUT_EXTRUDE3_DEPTH_BACK, mode=Mode.SUBTRACT)

    # Sketch9 → Cut-Extrude4 (cut)
    with BuildSketch(Plane(origin=(0, 6, 0), x_dir=(1, 0, 0), z_dir=(0, 1, 0))):
        Polygon((72.292007234, 18.5), (69.896003617, 22.65), (65.103996383, 22.65), (62.707992766, 18.5), (65.103996383, 14.35), (69.896003617, 14.35), align=None)
        Polygon((72.292007234, -18.5), (69.896003617, -14.35), (65.103996383, -14.35), (62.707992766, -18.5), (65.103996383, -22.65), (69.896003617, -22.65), align=None)
    extrude(amount=-CUT_EXTRUDE4_DEPTH, mode=Mode.SUBTRACT)


solid = part.part
